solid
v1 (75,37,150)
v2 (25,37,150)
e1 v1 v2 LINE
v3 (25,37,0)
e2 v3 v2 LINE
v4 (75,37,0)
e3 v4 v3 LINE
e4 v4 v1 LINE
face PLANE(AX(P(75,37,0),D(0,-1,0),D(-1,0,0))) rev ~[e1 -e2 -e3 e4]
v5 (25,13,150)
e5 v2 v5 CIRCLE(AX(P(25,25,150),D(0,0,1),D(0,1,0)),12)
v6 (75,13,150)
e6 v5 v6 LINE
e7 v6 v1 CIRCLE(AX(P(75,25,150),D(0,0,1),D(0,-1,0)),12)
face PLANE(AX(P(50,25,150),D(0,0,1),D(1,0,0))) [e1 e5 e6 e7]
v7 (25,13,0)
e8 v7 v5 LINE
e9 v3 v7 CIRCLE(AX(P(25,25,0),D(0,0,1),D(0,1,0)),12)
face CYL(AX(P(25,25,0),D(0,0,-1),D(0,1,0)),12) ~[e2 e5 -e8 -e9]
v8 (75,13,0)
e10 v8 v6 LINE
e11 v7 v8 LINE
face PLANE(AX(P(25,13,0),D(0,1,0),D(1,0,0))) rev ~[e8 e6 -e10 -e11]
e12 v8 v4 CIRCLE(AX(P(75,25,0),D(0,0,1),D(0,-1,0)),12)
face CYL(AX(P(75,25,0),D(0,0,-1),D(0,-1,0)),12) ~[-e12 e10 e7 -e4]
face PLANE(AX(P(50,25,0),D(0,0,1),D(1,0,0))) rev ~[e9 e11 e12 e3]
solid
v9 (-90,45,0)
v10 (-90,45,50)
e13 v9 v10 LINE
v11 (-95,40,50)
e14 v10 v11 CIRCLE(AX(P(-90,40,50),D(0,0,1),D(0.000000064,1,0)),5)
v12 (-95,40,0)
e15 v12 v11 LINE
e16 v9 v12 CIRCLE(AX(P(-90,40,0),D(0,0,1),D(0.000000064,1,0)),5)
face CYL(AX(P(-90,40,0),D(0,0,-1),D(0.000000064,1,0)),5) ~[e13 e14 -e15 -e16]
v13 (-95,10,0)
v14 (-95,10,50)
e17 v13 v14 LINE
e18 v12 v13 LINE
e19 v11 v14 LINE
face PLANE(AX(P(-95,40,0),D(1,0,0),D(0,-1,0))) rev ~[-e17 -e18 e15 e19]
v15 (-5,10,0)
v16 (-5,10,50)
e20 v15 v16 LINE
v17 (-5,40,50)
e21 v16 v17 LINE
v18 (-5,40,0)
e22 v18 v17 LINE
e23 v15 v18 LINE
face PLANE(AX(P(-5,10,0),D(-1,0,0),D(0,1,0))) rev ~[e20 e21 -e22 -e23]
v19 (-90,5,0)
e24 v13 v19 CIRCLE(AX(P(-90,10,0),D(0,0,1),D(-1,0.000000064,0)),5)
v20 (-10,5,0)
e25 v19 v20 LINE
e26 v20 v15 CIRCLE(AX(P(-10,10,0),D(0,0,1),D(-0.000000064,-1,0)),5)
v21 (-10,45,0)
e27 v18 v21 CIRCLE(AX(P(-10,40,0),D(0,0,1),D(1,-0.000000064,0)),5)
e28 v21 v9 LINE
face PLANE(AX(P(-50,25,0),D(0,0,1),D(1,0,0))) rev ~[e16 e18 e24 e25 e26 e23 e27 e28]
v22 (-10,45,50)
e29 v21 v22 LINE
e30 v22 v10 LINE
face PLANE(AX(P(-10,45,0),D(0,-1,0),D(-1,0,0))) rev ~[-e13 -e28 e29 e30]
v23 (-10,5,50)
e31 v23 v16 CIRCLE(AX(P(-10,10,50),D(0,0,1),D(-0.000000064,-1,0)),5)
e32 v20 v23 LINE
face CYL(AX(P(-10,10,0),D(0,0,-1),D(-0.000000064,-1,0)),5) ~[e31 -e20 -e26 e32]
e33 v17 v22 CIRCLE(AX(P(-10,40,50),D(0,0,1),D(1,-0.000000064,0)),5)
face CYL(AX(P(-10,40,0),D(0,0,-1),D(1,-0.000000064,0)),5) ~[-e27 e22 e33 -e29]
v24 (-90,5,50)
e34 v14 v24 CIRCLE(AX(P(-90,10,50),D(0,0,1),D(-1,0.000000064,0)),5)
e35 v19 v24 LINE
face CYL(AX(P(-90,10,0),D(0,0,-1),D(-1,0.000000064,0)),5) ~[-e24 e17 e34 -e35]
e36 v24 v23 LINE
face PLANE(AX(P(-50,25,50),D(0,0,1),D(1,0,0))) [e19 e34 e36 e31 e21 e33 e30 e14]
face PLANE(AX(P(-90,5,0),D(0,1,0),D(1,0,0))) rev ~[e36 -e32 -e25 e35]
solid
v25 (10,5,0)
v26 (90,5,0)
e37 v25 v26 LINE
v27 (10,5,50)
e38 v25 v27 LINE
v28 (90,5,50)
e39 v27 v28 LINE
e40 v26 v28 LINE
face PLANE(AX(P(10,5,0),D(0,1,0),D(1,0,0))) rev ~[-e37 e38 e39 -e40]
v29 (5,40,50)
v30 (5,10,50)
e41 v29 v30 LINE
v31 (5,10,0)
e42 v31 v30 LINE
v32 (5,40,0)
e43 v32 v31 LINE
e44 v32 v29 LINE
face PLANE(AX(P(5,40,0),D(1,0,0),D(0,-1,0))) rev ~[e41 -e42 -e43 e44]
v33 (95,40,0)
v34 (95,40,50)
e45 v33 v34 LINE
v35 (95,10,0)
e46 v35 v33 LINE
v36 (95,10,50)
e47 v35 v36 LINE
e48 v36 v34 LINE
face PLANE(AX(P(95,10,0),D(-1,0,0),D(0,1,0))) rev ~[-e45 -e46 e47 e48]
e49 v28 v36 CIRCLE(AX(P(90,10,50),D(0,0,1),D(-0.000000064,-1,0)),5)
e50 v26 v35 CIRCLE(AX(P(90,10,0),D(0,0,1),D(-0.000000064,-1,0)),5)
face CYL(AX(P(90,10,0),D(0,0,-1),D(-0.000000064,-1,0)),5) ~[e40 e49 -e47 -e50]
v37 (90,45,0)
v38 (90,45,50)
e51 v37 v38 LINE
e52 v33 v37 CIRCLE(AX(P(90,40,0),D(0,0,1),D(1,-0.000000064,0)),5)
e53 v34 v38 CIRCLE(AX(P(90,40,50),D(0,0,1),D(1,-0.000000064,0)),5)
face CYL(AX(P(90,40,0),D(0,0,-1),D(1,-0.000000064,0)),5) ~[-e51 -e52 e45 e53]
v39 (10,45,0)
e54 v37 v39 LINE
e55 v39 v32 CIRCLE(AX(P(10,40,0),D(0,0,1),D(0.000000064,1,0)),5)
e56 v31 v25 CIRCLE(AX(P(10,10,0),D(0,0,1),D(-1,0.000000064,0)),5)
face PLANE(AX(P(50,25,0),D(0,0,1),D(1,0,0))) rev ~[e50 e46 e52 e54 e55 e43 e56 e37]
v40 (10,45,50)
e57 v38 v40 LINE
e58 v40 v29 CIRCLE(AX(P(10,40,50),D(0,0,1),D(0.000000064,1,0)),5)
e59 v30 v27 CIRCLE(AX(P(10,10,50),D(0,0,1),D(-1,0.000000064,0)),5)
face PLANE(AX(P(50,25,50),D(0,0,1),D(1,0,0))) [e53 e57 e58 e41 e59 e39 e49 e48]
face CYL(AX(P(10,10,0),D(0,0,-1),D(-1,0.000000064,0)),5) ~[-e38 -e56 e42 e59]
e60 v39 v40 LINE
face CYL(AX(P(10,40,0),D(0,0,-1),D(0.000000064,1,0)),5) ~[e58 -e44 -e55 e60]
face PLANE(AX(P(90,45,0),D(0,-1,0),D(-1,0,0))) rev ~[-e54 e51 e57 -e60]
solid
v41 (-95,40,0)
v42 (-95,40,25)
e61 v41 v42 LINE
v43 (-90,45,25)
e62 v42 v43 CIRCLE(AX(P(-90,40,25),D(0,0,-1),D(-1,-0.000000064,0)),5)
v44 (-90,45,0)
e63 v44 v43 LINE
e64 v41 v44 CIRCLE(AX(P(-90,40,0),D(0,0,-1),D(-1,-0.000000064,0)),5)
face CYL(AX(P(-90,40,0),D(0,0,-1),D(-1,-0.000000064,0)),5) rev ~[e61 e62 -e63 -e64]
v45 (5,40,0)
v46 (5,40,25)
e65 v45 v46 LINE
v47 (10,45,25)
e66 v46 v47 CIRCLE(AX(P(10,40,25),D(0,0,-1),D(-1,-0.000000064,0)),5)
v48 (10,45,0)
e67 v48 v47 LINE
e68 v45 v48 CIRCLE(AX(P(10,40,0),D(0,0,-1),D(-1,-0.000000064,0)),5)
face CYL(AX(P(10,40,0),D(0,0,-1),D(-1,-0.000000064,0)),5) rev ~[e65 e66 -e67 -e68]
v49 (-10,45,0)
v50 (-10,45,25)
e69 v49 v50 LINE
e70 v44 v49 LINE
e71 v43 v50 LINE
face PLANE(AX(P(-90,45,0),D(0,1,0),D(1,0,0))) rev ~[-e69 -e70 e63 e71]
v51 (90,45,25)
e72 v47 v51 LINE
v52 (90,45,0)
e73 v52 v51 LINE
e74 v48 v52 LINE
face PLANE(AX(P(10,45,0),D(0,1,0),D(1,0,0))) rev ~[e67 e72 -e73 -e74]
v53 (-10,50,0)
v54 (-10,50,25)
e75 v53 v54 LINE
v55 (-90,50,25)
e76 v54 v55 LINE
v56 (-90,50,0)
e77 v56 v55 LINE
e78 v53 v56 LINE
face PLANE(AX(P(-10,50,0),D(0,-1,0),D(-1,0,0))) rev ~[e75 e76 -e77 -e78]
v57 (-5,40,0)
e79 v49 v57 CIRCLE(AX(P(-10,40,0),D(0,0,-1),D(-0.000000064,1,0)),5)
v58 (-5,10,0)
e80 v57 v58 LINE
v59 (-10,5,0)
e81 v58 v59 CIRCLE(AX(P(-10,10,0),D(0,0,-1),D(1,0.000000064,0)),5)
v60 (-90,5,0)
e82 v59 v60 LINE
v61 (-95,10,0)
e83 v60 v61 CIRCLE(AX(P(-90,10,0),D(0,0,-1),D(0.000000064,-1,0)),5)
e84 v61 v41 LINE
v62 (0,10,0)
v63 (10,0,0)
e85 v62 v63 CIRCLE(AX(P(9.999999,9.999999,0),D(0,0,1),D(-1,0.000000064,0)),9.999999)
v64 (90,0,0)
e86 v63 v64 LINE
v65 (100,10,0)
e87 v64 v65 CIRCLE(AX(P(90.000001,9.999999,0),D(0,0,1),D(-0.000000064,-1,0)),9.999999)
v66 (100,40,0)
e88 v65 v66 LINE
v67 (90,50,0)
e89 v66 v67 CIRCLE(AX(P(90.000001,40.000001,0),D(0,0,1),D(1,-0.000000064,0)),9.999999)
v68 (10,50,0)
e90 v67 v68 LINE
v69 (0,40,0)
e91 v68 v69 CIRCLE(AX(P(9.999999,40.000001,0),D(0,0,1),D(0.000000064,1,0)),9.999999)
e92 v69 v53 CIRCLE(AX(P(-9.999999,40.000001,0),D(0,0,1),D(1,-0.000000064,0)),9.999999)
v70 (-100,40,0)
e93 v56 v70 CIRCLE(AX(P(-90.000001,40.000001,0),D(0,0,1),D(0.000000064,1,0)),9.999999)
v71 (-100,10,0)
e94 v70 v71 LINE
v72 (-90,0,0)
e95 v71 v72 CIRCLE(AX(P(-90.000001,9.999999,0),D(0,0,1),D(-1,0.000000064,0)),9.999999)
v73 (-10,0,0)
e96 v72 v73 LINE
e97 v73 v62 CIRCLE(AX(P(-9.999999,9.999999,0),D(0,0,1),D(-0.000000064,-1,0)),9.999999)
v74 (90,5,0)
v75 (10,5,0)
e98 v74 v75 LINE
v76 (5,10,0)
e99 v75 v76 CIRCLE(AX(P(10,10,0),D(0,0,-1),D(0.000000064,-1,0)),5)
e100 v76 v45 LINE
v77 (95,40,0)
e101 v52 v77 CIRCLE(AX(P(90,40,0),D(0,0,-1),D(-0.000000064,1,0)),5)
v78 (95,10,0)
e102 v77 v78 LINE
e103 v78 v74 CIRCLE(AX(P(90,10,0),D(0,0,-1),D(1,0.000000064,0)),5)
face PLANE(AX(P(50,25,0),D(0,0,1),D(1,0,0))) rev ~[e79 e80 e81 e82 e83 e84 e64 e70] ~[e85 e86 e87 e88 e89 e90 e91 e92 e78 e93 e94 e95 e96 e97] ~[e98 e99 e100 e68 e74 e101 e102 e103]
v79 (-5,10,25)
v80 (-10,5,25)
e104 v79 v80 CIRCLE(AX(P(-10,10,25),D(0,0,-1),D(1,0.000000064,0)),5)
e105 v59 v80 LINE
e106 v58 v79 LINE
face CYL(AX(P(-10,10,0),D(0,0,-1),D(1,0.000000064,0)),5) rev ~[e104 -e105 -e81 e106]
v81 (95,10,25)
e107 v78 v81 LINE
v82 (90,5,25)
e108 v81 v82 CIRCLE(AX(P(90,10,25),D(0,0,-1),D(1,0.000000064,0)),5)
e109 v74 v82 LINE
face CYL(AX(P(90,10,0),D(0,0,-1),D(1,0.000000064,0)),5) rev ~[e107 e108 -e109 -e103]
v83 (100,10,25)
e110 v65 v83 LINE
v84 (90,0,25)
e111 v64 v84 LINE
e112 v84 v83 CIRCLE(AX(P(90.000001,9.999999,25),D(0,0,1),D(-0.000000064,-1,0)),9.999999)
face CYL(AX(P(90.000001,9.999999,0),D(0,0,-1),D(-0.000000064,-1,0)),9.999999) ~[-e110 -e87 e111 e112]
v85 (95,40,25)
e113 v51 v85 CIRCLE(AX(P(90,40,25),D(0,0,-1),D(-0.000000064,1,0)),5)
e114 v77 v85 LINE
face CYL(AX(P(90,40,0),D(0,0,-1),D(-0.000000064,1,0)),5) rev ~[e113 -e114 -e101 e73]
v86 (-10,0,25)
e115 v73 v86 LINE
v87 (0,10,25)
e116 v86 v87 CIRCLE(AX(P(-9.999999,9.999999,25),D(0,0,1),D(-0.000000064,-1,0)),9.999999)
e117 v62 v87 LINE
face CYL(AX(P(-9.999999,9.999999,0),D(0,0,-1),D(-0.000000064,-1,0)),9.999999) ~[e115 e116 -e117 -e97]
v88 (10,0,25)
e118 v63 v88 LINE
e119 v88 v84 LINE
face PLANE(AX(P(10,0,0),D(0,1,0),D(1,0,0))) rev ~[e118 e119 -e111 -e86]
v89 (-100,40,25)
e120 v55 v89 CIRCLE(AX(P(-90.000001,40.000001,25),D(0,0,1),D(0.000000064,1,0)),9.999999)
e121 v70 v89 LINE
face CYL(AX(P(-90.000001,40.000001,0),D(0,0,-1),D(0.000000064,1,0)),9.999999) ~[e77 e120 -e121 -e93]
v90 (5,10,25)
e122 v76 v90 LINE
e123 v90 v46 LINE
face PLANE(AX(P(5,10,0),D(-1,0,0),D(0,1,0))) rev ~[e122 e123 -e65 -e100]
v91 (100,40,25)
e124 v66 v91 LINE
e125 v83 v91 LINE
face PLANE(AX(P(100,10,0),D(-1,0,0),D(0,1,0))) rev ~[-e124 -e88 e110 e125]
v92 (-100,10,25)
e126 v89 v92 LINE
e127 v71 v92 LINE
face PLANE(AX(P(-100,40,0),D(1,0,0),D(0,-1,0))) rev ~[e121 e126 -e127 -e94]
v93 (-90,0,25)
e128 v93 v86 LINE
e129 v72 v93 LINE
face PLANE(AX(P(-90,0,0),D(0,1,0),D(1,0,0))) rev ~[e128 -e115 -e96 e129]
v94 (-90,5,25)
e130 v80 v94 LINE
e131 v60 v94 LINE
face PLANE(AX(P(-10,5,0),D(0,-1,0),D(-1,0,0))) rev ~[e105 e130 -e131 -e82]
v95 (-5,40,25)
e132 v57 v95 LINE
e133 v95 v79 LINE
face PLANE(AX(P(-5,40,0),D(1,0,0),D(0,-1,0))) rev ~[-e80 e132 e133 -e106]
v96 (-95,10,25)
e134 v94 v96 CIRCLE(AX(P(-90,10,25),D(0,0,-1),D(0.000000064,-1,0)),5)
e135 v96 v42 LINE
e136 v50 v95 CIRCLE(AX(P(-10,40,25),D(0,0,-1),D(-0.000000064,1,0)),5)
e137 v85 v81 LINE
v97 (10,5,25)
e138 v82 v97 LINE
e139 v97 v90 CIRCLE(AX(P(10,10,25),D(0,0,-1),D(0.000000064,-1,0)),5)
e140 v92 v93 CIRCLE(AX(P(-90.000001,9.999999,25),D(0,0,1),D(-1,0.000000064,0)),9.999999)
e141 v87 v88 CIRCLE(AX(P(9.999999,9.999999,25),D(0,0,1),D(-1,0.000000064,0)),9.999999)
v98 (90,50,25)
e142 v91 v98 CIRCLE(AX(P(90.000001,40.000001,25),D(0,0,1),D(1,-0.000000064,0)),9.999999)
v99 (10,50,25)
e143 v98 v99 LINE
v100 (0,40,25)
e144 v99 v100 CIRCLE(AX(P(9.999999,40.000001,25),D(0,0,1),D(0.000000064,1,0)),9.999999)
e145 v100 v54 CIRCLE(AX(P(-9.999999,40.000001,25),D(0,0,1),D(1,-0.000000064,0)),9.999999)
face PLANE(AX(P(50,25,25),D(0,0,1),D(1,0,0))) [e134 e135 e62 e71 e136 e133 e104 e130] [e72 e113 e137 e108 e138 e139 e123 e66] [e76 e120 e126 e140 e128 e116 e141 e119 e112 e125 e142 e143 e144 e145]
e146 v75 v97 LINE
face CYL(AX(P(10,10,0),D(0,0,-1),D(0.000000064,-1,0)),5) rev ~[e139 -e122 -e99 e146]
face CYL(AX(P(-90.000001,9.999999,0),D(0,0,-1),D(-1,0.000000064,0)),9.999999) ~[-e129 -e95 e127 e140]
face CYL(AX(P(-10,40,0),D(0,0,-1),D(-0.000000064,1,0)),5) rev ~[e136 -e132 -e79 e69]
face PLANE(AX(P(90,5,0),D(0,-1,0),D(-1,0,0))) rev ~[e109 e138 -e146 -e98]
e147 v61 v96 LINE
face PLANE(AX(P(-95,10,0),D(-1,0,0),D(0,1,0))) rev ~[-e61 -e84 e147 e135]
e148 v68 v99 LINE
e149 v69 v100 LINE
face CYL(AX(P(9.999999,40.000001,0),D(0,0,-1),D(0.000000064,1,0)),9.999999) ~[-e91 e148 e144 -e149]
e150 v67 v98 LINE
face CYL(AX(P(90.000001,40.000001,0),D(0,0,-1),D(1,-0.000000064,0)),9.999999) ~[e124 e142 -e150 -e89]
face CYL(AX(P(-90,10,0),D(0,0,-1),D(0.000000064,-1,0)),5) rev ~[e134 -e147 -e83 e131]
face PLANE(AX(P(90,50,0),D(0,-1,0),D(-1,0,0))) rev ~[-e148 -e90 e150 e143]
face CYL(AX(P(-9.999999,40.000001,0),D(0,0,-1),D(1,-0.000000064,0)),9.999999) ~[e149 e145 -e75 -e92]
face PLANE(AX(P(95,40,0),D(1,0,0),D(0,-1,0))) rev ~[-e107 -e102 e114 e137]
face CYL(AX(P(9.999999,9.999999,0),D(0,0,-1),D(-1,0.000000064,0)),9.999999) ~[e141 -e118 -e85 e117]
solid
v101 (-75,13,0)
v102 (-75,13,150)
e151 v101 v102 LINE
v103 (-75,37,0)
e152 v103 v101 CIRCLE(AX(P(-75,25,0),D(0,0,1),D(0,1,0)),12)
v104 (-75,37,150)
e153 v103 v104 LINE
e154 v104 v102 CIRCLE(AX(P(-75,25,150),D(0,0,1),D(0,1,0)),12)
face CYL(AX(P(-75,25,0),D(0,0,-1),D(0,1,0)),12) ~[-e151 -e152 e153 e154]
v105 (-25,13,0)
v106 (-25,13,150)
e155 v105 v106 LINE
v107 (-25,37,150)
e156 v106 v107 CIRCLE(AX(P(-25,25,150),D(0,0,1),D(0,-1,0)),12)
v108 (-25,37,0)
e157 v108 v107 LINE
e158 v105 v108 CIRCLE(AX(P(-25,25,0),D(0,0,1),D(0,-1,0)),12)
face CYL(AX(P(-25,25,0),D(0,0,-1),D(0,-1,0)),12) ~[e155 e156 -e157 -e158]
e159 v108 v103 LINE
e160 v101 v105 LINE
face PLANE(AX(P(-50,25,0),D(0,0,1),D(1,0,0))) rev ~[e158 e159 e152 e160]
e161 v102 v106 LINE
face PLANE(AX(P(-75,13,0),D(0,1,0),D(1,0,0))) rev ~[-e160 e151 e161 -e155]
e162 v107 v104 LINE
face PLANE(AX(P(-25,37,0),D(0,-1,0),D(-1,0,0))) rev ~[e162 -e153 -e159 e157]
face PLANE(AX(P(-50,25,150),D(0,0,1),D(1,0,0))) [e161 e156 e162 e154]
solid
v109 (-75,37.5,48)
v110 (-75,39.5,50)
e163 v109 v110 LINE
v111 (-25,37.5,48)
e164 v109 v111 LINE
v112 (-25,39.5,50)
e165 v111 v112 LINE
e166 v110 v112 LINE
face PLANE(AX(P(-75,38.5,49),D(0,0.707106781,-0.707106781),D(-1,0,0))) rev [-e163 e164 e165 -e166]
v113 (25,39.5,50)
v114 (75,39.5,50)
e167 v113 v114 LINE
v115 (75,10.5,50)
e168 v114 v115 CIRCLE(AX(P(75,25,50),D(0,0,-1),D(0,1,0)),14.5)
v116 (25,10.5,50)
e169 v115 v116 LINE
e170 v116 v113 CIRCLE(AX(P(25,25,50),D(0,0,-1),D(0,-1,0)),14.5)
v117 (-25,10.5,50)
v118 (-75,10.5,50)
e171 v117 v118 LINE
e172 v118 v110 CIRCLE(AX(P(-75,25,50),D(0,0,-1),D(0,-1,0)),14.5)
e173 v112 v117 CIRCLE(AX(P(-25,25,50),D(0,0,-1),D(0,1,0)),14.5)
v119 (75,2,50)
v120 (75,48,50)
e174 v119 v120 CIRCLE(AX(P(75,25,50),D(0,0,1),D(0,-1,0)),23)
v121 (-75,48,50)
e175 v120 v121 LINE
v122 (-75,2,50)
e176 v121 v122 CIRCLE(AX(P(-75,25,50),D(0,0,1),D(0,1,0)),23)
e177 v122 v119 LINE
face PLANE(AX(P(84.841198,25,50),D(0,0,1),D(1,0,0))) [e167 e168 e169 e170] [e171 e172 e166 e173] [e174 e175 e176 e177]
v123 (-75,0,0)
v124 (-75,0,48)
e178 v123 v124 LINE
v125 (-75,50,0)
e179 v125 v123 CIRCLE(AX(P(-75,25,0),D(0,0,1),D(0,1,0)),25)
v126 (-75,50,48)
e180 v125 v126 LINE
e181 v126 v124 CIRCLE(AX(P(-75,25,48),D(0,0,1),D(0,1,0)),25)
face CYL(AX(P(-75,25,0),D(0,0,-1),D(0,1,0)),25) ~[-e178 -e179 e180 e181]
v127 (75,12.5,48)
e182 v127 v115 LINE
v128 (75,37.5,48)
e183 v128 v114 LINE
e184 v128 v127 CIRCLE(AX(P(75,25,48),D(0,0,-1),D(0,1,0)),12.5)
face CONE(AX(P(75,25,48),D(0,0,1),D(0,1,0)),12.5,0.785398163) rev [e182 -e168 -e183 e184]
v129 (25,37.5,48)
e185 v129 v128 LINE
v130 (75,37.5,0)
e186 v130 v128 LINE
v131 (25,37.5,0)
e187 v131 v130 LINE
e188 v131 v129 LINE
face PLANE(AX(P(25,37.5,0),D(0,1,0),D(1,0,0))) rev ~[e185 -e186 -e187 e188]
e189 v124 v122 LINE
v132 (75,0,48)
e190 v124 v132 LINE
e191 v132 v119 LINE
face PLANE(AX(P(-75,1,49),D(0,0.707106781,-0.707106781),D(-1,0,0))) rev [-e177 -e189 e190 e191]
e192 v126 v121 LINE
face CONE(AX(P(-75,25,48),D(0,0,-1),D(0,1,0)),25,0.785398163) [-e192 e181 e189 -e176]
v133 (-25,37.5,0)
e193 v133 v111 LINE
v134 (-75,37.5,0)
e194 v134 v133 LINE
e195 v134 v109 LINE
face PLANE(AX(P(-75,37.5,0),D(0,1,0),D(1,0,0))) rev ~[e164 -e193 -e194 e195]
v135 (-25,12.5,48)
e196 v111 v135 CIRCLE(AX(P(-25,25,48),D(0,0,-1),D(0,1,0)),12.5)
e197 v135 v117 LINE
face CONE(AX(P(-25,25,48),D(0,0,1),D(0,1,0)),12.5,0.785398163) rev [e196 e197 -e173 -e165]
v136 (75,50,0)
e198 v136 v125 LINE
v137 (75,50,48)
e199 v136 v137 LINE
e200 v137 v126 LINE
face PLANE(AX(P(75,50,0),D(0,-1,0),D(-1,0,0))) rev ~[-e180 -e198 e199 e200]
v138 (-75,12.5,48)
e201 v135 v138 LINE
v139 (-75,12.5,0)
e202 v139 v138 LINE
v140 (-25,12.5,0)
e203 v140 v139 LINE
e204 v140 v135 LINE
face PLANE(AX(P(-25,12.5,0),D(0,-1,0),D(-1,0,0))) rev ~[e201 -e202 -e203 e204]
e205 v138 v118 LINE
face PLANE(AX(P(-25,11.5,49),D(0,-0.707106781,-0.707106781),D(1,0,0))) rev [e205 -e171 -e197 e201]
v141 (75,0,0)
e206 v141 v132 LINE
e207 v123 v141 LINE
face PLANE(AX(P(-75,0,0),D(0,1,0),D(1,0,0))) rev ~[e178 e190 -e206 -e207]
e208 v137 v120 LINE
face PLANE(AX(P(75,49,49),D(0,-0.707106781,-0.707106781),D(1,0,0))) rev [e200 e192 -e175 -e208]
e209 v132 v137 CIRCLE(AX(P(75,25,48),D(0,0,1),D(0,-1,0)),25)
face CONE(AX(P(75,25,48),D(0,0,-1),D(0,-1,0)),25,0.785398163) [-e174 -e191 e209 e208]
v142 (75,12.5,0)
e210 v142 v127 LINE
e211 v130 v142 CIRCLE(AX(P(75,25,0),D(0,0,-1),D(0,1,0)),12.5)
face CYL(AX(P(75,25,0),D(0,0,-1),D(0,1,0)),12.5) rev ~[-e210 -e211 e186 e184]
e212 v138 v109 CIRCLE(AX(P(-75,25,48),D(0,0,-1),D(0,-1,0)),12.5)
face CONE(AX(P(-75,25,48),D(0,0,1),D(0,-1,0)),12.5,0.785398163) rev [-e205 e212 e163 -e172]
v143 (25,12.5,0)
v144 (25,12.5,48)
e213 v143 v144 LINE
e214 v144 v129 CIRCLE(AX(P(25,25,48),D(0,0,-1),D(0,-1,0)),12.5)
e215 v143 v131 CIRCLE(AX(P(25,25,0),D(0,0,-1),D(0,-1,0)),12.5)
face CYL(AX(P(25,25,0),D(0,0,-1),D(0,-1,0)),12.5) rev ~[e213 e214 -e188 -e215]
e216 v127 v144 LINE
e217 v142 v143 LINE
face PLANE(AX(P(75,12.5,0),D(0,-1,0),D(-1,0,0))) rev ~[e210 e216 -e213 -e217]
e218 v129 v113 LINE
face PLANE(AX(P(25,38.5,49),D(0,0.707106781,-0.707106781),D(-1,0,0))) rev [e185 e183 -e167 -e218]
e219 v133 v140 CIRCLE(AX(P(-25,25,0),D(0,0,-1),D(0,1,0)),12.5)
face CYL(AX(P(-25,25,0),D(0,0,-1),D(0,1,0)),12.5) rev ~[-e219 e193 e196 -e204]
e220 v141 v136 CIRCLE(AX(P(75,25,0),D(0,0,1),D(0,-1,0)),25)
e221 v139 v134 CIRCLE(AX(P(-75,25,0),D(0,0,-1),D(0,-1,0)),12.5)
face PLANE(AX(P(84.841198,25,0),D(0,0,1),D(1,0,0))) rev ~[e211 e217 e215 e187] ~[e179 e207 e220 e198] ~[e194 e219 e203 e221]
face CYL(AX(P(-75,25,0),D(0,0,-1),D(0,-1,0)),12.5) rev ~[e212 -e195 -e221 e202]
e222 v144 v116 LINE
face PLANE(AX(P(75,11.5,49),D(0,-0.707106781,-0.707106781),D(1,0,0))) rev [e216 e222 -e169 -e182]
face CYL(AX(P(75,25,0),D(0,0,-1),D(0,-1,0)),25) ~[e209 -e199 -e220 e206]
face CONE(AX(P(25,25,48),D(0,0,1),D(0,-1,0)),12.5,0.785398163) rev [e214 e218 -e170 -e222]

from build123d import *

# Parameters (mm, degrees)
F1_DEPTH = 50
F2_SIZE  = 2
F4_DEPTH = 150
F6_DEPTH = 25
F7_DEPTH = 50


with BuildPart() as f1:
    # F0 (on Top) → F1 (new body)
    with BuildSketch(Plane.XY):
        with BuildLine():
            Line((75, 12.5), (75, 0))
            ThreePointArc((75, 0), (100, 25), (75, 50))
            Line((75, 50), (75, 37.5))
            ThreePointArc((75, 37.5), (87.5, 25), (75, 12.5))
        make_face()
        with BuildLine():
            Line((-75, 0), (75, 0))
            Line((75, 0), (75, 12.5))
            Line((75, 12.5), (25, 12.5))
            ThreePointArc((25, 12.5), (12.5, 25), (25, 37.5))
            Line((25, 37.5), (75, 37.5))
            Line((75, 37.5), (75, 50))
            Line((75, 50), (-75, 50))
            Line((-75, 50), (-75, 37.5))
            Line((-75, 37.5), (-25, 37.5))
            ThreePointArc((-25, 37.5), (-12.5, 25), (-25, 12.5))
            Line((-25, 12.5), (-75, 12.5))
            Line((-75, 12.5), (-75, 0))
        make_face()
        with BuildLine():
            ThreePointArc((-75, 50), (-100, 25), (-75, 0))
            Line((-75, 0), (-75, 12.5))
            ThreePointArc((-75, 12.5), (-87.5, 25), (-75, 37.5))
            Line((-75, 37.5), (-75, 50))
        make_face()
    extrude(amount=F1_DEPTH)

    # F2
    f2_edges = [f1.edges().sort_by_distance(p)[0] for p in [
        (0, 0, 50),
        (12.5, 25, 50),
        (-50, 12.5, 50),
    ]]
    chamfer(f2_edges, length=F2_SIZE)


with BuildPart() as f4:
    # F3 (on Top) → F4 (new body)
    with BuildSketch(Plane.XY):
        with BuildLine():
            ThreePointArc((-25, 13), (-13, 25), (-25, 37))
            Line((-25, 37), (-75, 37))
            ThreePointArc((-75, 37), (-87, 25), (-75, 13))
            Line((-75, 13), (-25, 13))
        make_face()
        with BuildLine():
            ThreePointArc((25, 37), (13, 25), (25, 13))
            Line((25, 13), (75, 13))
            ThreePointArc((75, 13), (87, 25), (75, 37))
            Line((75, 37), (25, 37))
        make_face()
    extrude(amount=F4_DEPTH)


with BuildPart() as f6:
    # F5 (on Top) → F6 (new body)
    with BuildSketch(Plane.XY):
        with BuildLine():
            ThreePointArc((0, 10), (2.928932, 2.928932), (10, 0))
            Line((10, 0), (90, 0))
            ThreePointArc((90, 0), (97.071068, 2.928932), (100, 10))
            Line((100, 10), (100, 40))
            ThreePointArc((100, 40), (97.071068, 47.071068), (90, 50))
            Line((90, 50), (10, 50))
            ThreePointArc((10, 50), (2.928932, 47.071068), (0, 40))
            Line((0, 40), (0, 10))
        make_face()
        with BuildLine():
            ThreePointArc((90, 45), (93.535534, 43.535534), (95, 40))
            Line((95, 40), (95, 10))
            ThreePointArc((95, 10), (93.535534, 6.464466), (90, 5))
            Line((90, 5), (10, 5))
            ThreePointArc((10, 5), (6.464466, 6.464466), (5, 10))
            Line((5, 10), (5, 40))
            ThreePointArc((5, 40), (6.464466, 43.535534), (10, 45))
            Line((10, 45), (90, 45))
        make_face(mode=Mode.SUBTRACT)
        with BuildLine():
            ThreePointArc((-10, 0), (-2.928932, 2.928932), (0, 10))
            Line((0, 10), (0, 40))
            ThreePointArc((0, 40), (-2.928932, 47.071068), (-10, 50))
            Line((-10, 50), (-90, 50))
            ThreePointArc((-90, 50), (-97.071068, 47.071068), (-100, 40))
            Line((-100, 40), (-100, 10))
            ThreePointArc((-100, 10), (-97.071068, 2.928932), (-90, 0))
            Line((-90, 0), (-10, 0))
        make_face()
        with BuildLine():
            Line((-95, 10), (-95, 40))
            ThreePointArc((-95, 40), (-93.535534, 43.535534), (-90, 45))
            Line((-90, 45), (-10, 45))
            ThreePointArc((-10, 45), (-6.464466, 43.535534), (-5, 40))
            Line((-5, 40), (-5, 10))
            ThreePointArc((-5, 10), (-6.464466, 6.464466), (-10, 5))
            Line((-10, 5), (-90, 5))
            ThreePointArc((-90, 5), (-93.535534, 6.464466), (-95, 10))
        make_face(mode=Mode.SUBTRACT)
    extrude(amount=F6_DEPTH)


with BuildPart() as f7:
    # F5 (on Top) → F7 (new body)
    with BuildSketch(Plane.XY):
        with BuildLine():
            Line((95, 10), (95, 40))
            ThreePointArc((95, 40), (93.535534, 43.535534), (90, 45))
            Line((90, 45), (10, 45))
            ThreePointArc((10, 45), (6.464466, 43.535534), (5, 40))
            Line((5, 40), (5, 10))
            ThreePointArc((5, 10), (6.464466, 6.464466), (10, 5))
            Line((10, 5), (90, 5))
            ThreePointArc((90, 5), (93.535534, 6.464466), (95, 10))
        make_face()
        with BuildLine():
            ThreePointArc((-90, 45), (-93.535534, 43.535534), (-95, 40))
            Line((-95, 40), (-95, 10))
            ThreePointArc((-95, 10), (-93.535534, 6.464466), (-90, 5))
            Line((-90, 5), (-10, 5))
            ThreePointArc((-10, 5), (-6.464466, 6.464466), (-5, 10))
            Line((-5, 10), (-5, 40))
            ThreePointArc((-5, 40), (-6.464466, 43.535534), (-10, 45))
            Line((-10, 45), (-90, 45))
        make_face()
    extrude(amount=F7_DEPTH)


solid = Compound([f1.part, f4.part, f6.part, f7.part])
